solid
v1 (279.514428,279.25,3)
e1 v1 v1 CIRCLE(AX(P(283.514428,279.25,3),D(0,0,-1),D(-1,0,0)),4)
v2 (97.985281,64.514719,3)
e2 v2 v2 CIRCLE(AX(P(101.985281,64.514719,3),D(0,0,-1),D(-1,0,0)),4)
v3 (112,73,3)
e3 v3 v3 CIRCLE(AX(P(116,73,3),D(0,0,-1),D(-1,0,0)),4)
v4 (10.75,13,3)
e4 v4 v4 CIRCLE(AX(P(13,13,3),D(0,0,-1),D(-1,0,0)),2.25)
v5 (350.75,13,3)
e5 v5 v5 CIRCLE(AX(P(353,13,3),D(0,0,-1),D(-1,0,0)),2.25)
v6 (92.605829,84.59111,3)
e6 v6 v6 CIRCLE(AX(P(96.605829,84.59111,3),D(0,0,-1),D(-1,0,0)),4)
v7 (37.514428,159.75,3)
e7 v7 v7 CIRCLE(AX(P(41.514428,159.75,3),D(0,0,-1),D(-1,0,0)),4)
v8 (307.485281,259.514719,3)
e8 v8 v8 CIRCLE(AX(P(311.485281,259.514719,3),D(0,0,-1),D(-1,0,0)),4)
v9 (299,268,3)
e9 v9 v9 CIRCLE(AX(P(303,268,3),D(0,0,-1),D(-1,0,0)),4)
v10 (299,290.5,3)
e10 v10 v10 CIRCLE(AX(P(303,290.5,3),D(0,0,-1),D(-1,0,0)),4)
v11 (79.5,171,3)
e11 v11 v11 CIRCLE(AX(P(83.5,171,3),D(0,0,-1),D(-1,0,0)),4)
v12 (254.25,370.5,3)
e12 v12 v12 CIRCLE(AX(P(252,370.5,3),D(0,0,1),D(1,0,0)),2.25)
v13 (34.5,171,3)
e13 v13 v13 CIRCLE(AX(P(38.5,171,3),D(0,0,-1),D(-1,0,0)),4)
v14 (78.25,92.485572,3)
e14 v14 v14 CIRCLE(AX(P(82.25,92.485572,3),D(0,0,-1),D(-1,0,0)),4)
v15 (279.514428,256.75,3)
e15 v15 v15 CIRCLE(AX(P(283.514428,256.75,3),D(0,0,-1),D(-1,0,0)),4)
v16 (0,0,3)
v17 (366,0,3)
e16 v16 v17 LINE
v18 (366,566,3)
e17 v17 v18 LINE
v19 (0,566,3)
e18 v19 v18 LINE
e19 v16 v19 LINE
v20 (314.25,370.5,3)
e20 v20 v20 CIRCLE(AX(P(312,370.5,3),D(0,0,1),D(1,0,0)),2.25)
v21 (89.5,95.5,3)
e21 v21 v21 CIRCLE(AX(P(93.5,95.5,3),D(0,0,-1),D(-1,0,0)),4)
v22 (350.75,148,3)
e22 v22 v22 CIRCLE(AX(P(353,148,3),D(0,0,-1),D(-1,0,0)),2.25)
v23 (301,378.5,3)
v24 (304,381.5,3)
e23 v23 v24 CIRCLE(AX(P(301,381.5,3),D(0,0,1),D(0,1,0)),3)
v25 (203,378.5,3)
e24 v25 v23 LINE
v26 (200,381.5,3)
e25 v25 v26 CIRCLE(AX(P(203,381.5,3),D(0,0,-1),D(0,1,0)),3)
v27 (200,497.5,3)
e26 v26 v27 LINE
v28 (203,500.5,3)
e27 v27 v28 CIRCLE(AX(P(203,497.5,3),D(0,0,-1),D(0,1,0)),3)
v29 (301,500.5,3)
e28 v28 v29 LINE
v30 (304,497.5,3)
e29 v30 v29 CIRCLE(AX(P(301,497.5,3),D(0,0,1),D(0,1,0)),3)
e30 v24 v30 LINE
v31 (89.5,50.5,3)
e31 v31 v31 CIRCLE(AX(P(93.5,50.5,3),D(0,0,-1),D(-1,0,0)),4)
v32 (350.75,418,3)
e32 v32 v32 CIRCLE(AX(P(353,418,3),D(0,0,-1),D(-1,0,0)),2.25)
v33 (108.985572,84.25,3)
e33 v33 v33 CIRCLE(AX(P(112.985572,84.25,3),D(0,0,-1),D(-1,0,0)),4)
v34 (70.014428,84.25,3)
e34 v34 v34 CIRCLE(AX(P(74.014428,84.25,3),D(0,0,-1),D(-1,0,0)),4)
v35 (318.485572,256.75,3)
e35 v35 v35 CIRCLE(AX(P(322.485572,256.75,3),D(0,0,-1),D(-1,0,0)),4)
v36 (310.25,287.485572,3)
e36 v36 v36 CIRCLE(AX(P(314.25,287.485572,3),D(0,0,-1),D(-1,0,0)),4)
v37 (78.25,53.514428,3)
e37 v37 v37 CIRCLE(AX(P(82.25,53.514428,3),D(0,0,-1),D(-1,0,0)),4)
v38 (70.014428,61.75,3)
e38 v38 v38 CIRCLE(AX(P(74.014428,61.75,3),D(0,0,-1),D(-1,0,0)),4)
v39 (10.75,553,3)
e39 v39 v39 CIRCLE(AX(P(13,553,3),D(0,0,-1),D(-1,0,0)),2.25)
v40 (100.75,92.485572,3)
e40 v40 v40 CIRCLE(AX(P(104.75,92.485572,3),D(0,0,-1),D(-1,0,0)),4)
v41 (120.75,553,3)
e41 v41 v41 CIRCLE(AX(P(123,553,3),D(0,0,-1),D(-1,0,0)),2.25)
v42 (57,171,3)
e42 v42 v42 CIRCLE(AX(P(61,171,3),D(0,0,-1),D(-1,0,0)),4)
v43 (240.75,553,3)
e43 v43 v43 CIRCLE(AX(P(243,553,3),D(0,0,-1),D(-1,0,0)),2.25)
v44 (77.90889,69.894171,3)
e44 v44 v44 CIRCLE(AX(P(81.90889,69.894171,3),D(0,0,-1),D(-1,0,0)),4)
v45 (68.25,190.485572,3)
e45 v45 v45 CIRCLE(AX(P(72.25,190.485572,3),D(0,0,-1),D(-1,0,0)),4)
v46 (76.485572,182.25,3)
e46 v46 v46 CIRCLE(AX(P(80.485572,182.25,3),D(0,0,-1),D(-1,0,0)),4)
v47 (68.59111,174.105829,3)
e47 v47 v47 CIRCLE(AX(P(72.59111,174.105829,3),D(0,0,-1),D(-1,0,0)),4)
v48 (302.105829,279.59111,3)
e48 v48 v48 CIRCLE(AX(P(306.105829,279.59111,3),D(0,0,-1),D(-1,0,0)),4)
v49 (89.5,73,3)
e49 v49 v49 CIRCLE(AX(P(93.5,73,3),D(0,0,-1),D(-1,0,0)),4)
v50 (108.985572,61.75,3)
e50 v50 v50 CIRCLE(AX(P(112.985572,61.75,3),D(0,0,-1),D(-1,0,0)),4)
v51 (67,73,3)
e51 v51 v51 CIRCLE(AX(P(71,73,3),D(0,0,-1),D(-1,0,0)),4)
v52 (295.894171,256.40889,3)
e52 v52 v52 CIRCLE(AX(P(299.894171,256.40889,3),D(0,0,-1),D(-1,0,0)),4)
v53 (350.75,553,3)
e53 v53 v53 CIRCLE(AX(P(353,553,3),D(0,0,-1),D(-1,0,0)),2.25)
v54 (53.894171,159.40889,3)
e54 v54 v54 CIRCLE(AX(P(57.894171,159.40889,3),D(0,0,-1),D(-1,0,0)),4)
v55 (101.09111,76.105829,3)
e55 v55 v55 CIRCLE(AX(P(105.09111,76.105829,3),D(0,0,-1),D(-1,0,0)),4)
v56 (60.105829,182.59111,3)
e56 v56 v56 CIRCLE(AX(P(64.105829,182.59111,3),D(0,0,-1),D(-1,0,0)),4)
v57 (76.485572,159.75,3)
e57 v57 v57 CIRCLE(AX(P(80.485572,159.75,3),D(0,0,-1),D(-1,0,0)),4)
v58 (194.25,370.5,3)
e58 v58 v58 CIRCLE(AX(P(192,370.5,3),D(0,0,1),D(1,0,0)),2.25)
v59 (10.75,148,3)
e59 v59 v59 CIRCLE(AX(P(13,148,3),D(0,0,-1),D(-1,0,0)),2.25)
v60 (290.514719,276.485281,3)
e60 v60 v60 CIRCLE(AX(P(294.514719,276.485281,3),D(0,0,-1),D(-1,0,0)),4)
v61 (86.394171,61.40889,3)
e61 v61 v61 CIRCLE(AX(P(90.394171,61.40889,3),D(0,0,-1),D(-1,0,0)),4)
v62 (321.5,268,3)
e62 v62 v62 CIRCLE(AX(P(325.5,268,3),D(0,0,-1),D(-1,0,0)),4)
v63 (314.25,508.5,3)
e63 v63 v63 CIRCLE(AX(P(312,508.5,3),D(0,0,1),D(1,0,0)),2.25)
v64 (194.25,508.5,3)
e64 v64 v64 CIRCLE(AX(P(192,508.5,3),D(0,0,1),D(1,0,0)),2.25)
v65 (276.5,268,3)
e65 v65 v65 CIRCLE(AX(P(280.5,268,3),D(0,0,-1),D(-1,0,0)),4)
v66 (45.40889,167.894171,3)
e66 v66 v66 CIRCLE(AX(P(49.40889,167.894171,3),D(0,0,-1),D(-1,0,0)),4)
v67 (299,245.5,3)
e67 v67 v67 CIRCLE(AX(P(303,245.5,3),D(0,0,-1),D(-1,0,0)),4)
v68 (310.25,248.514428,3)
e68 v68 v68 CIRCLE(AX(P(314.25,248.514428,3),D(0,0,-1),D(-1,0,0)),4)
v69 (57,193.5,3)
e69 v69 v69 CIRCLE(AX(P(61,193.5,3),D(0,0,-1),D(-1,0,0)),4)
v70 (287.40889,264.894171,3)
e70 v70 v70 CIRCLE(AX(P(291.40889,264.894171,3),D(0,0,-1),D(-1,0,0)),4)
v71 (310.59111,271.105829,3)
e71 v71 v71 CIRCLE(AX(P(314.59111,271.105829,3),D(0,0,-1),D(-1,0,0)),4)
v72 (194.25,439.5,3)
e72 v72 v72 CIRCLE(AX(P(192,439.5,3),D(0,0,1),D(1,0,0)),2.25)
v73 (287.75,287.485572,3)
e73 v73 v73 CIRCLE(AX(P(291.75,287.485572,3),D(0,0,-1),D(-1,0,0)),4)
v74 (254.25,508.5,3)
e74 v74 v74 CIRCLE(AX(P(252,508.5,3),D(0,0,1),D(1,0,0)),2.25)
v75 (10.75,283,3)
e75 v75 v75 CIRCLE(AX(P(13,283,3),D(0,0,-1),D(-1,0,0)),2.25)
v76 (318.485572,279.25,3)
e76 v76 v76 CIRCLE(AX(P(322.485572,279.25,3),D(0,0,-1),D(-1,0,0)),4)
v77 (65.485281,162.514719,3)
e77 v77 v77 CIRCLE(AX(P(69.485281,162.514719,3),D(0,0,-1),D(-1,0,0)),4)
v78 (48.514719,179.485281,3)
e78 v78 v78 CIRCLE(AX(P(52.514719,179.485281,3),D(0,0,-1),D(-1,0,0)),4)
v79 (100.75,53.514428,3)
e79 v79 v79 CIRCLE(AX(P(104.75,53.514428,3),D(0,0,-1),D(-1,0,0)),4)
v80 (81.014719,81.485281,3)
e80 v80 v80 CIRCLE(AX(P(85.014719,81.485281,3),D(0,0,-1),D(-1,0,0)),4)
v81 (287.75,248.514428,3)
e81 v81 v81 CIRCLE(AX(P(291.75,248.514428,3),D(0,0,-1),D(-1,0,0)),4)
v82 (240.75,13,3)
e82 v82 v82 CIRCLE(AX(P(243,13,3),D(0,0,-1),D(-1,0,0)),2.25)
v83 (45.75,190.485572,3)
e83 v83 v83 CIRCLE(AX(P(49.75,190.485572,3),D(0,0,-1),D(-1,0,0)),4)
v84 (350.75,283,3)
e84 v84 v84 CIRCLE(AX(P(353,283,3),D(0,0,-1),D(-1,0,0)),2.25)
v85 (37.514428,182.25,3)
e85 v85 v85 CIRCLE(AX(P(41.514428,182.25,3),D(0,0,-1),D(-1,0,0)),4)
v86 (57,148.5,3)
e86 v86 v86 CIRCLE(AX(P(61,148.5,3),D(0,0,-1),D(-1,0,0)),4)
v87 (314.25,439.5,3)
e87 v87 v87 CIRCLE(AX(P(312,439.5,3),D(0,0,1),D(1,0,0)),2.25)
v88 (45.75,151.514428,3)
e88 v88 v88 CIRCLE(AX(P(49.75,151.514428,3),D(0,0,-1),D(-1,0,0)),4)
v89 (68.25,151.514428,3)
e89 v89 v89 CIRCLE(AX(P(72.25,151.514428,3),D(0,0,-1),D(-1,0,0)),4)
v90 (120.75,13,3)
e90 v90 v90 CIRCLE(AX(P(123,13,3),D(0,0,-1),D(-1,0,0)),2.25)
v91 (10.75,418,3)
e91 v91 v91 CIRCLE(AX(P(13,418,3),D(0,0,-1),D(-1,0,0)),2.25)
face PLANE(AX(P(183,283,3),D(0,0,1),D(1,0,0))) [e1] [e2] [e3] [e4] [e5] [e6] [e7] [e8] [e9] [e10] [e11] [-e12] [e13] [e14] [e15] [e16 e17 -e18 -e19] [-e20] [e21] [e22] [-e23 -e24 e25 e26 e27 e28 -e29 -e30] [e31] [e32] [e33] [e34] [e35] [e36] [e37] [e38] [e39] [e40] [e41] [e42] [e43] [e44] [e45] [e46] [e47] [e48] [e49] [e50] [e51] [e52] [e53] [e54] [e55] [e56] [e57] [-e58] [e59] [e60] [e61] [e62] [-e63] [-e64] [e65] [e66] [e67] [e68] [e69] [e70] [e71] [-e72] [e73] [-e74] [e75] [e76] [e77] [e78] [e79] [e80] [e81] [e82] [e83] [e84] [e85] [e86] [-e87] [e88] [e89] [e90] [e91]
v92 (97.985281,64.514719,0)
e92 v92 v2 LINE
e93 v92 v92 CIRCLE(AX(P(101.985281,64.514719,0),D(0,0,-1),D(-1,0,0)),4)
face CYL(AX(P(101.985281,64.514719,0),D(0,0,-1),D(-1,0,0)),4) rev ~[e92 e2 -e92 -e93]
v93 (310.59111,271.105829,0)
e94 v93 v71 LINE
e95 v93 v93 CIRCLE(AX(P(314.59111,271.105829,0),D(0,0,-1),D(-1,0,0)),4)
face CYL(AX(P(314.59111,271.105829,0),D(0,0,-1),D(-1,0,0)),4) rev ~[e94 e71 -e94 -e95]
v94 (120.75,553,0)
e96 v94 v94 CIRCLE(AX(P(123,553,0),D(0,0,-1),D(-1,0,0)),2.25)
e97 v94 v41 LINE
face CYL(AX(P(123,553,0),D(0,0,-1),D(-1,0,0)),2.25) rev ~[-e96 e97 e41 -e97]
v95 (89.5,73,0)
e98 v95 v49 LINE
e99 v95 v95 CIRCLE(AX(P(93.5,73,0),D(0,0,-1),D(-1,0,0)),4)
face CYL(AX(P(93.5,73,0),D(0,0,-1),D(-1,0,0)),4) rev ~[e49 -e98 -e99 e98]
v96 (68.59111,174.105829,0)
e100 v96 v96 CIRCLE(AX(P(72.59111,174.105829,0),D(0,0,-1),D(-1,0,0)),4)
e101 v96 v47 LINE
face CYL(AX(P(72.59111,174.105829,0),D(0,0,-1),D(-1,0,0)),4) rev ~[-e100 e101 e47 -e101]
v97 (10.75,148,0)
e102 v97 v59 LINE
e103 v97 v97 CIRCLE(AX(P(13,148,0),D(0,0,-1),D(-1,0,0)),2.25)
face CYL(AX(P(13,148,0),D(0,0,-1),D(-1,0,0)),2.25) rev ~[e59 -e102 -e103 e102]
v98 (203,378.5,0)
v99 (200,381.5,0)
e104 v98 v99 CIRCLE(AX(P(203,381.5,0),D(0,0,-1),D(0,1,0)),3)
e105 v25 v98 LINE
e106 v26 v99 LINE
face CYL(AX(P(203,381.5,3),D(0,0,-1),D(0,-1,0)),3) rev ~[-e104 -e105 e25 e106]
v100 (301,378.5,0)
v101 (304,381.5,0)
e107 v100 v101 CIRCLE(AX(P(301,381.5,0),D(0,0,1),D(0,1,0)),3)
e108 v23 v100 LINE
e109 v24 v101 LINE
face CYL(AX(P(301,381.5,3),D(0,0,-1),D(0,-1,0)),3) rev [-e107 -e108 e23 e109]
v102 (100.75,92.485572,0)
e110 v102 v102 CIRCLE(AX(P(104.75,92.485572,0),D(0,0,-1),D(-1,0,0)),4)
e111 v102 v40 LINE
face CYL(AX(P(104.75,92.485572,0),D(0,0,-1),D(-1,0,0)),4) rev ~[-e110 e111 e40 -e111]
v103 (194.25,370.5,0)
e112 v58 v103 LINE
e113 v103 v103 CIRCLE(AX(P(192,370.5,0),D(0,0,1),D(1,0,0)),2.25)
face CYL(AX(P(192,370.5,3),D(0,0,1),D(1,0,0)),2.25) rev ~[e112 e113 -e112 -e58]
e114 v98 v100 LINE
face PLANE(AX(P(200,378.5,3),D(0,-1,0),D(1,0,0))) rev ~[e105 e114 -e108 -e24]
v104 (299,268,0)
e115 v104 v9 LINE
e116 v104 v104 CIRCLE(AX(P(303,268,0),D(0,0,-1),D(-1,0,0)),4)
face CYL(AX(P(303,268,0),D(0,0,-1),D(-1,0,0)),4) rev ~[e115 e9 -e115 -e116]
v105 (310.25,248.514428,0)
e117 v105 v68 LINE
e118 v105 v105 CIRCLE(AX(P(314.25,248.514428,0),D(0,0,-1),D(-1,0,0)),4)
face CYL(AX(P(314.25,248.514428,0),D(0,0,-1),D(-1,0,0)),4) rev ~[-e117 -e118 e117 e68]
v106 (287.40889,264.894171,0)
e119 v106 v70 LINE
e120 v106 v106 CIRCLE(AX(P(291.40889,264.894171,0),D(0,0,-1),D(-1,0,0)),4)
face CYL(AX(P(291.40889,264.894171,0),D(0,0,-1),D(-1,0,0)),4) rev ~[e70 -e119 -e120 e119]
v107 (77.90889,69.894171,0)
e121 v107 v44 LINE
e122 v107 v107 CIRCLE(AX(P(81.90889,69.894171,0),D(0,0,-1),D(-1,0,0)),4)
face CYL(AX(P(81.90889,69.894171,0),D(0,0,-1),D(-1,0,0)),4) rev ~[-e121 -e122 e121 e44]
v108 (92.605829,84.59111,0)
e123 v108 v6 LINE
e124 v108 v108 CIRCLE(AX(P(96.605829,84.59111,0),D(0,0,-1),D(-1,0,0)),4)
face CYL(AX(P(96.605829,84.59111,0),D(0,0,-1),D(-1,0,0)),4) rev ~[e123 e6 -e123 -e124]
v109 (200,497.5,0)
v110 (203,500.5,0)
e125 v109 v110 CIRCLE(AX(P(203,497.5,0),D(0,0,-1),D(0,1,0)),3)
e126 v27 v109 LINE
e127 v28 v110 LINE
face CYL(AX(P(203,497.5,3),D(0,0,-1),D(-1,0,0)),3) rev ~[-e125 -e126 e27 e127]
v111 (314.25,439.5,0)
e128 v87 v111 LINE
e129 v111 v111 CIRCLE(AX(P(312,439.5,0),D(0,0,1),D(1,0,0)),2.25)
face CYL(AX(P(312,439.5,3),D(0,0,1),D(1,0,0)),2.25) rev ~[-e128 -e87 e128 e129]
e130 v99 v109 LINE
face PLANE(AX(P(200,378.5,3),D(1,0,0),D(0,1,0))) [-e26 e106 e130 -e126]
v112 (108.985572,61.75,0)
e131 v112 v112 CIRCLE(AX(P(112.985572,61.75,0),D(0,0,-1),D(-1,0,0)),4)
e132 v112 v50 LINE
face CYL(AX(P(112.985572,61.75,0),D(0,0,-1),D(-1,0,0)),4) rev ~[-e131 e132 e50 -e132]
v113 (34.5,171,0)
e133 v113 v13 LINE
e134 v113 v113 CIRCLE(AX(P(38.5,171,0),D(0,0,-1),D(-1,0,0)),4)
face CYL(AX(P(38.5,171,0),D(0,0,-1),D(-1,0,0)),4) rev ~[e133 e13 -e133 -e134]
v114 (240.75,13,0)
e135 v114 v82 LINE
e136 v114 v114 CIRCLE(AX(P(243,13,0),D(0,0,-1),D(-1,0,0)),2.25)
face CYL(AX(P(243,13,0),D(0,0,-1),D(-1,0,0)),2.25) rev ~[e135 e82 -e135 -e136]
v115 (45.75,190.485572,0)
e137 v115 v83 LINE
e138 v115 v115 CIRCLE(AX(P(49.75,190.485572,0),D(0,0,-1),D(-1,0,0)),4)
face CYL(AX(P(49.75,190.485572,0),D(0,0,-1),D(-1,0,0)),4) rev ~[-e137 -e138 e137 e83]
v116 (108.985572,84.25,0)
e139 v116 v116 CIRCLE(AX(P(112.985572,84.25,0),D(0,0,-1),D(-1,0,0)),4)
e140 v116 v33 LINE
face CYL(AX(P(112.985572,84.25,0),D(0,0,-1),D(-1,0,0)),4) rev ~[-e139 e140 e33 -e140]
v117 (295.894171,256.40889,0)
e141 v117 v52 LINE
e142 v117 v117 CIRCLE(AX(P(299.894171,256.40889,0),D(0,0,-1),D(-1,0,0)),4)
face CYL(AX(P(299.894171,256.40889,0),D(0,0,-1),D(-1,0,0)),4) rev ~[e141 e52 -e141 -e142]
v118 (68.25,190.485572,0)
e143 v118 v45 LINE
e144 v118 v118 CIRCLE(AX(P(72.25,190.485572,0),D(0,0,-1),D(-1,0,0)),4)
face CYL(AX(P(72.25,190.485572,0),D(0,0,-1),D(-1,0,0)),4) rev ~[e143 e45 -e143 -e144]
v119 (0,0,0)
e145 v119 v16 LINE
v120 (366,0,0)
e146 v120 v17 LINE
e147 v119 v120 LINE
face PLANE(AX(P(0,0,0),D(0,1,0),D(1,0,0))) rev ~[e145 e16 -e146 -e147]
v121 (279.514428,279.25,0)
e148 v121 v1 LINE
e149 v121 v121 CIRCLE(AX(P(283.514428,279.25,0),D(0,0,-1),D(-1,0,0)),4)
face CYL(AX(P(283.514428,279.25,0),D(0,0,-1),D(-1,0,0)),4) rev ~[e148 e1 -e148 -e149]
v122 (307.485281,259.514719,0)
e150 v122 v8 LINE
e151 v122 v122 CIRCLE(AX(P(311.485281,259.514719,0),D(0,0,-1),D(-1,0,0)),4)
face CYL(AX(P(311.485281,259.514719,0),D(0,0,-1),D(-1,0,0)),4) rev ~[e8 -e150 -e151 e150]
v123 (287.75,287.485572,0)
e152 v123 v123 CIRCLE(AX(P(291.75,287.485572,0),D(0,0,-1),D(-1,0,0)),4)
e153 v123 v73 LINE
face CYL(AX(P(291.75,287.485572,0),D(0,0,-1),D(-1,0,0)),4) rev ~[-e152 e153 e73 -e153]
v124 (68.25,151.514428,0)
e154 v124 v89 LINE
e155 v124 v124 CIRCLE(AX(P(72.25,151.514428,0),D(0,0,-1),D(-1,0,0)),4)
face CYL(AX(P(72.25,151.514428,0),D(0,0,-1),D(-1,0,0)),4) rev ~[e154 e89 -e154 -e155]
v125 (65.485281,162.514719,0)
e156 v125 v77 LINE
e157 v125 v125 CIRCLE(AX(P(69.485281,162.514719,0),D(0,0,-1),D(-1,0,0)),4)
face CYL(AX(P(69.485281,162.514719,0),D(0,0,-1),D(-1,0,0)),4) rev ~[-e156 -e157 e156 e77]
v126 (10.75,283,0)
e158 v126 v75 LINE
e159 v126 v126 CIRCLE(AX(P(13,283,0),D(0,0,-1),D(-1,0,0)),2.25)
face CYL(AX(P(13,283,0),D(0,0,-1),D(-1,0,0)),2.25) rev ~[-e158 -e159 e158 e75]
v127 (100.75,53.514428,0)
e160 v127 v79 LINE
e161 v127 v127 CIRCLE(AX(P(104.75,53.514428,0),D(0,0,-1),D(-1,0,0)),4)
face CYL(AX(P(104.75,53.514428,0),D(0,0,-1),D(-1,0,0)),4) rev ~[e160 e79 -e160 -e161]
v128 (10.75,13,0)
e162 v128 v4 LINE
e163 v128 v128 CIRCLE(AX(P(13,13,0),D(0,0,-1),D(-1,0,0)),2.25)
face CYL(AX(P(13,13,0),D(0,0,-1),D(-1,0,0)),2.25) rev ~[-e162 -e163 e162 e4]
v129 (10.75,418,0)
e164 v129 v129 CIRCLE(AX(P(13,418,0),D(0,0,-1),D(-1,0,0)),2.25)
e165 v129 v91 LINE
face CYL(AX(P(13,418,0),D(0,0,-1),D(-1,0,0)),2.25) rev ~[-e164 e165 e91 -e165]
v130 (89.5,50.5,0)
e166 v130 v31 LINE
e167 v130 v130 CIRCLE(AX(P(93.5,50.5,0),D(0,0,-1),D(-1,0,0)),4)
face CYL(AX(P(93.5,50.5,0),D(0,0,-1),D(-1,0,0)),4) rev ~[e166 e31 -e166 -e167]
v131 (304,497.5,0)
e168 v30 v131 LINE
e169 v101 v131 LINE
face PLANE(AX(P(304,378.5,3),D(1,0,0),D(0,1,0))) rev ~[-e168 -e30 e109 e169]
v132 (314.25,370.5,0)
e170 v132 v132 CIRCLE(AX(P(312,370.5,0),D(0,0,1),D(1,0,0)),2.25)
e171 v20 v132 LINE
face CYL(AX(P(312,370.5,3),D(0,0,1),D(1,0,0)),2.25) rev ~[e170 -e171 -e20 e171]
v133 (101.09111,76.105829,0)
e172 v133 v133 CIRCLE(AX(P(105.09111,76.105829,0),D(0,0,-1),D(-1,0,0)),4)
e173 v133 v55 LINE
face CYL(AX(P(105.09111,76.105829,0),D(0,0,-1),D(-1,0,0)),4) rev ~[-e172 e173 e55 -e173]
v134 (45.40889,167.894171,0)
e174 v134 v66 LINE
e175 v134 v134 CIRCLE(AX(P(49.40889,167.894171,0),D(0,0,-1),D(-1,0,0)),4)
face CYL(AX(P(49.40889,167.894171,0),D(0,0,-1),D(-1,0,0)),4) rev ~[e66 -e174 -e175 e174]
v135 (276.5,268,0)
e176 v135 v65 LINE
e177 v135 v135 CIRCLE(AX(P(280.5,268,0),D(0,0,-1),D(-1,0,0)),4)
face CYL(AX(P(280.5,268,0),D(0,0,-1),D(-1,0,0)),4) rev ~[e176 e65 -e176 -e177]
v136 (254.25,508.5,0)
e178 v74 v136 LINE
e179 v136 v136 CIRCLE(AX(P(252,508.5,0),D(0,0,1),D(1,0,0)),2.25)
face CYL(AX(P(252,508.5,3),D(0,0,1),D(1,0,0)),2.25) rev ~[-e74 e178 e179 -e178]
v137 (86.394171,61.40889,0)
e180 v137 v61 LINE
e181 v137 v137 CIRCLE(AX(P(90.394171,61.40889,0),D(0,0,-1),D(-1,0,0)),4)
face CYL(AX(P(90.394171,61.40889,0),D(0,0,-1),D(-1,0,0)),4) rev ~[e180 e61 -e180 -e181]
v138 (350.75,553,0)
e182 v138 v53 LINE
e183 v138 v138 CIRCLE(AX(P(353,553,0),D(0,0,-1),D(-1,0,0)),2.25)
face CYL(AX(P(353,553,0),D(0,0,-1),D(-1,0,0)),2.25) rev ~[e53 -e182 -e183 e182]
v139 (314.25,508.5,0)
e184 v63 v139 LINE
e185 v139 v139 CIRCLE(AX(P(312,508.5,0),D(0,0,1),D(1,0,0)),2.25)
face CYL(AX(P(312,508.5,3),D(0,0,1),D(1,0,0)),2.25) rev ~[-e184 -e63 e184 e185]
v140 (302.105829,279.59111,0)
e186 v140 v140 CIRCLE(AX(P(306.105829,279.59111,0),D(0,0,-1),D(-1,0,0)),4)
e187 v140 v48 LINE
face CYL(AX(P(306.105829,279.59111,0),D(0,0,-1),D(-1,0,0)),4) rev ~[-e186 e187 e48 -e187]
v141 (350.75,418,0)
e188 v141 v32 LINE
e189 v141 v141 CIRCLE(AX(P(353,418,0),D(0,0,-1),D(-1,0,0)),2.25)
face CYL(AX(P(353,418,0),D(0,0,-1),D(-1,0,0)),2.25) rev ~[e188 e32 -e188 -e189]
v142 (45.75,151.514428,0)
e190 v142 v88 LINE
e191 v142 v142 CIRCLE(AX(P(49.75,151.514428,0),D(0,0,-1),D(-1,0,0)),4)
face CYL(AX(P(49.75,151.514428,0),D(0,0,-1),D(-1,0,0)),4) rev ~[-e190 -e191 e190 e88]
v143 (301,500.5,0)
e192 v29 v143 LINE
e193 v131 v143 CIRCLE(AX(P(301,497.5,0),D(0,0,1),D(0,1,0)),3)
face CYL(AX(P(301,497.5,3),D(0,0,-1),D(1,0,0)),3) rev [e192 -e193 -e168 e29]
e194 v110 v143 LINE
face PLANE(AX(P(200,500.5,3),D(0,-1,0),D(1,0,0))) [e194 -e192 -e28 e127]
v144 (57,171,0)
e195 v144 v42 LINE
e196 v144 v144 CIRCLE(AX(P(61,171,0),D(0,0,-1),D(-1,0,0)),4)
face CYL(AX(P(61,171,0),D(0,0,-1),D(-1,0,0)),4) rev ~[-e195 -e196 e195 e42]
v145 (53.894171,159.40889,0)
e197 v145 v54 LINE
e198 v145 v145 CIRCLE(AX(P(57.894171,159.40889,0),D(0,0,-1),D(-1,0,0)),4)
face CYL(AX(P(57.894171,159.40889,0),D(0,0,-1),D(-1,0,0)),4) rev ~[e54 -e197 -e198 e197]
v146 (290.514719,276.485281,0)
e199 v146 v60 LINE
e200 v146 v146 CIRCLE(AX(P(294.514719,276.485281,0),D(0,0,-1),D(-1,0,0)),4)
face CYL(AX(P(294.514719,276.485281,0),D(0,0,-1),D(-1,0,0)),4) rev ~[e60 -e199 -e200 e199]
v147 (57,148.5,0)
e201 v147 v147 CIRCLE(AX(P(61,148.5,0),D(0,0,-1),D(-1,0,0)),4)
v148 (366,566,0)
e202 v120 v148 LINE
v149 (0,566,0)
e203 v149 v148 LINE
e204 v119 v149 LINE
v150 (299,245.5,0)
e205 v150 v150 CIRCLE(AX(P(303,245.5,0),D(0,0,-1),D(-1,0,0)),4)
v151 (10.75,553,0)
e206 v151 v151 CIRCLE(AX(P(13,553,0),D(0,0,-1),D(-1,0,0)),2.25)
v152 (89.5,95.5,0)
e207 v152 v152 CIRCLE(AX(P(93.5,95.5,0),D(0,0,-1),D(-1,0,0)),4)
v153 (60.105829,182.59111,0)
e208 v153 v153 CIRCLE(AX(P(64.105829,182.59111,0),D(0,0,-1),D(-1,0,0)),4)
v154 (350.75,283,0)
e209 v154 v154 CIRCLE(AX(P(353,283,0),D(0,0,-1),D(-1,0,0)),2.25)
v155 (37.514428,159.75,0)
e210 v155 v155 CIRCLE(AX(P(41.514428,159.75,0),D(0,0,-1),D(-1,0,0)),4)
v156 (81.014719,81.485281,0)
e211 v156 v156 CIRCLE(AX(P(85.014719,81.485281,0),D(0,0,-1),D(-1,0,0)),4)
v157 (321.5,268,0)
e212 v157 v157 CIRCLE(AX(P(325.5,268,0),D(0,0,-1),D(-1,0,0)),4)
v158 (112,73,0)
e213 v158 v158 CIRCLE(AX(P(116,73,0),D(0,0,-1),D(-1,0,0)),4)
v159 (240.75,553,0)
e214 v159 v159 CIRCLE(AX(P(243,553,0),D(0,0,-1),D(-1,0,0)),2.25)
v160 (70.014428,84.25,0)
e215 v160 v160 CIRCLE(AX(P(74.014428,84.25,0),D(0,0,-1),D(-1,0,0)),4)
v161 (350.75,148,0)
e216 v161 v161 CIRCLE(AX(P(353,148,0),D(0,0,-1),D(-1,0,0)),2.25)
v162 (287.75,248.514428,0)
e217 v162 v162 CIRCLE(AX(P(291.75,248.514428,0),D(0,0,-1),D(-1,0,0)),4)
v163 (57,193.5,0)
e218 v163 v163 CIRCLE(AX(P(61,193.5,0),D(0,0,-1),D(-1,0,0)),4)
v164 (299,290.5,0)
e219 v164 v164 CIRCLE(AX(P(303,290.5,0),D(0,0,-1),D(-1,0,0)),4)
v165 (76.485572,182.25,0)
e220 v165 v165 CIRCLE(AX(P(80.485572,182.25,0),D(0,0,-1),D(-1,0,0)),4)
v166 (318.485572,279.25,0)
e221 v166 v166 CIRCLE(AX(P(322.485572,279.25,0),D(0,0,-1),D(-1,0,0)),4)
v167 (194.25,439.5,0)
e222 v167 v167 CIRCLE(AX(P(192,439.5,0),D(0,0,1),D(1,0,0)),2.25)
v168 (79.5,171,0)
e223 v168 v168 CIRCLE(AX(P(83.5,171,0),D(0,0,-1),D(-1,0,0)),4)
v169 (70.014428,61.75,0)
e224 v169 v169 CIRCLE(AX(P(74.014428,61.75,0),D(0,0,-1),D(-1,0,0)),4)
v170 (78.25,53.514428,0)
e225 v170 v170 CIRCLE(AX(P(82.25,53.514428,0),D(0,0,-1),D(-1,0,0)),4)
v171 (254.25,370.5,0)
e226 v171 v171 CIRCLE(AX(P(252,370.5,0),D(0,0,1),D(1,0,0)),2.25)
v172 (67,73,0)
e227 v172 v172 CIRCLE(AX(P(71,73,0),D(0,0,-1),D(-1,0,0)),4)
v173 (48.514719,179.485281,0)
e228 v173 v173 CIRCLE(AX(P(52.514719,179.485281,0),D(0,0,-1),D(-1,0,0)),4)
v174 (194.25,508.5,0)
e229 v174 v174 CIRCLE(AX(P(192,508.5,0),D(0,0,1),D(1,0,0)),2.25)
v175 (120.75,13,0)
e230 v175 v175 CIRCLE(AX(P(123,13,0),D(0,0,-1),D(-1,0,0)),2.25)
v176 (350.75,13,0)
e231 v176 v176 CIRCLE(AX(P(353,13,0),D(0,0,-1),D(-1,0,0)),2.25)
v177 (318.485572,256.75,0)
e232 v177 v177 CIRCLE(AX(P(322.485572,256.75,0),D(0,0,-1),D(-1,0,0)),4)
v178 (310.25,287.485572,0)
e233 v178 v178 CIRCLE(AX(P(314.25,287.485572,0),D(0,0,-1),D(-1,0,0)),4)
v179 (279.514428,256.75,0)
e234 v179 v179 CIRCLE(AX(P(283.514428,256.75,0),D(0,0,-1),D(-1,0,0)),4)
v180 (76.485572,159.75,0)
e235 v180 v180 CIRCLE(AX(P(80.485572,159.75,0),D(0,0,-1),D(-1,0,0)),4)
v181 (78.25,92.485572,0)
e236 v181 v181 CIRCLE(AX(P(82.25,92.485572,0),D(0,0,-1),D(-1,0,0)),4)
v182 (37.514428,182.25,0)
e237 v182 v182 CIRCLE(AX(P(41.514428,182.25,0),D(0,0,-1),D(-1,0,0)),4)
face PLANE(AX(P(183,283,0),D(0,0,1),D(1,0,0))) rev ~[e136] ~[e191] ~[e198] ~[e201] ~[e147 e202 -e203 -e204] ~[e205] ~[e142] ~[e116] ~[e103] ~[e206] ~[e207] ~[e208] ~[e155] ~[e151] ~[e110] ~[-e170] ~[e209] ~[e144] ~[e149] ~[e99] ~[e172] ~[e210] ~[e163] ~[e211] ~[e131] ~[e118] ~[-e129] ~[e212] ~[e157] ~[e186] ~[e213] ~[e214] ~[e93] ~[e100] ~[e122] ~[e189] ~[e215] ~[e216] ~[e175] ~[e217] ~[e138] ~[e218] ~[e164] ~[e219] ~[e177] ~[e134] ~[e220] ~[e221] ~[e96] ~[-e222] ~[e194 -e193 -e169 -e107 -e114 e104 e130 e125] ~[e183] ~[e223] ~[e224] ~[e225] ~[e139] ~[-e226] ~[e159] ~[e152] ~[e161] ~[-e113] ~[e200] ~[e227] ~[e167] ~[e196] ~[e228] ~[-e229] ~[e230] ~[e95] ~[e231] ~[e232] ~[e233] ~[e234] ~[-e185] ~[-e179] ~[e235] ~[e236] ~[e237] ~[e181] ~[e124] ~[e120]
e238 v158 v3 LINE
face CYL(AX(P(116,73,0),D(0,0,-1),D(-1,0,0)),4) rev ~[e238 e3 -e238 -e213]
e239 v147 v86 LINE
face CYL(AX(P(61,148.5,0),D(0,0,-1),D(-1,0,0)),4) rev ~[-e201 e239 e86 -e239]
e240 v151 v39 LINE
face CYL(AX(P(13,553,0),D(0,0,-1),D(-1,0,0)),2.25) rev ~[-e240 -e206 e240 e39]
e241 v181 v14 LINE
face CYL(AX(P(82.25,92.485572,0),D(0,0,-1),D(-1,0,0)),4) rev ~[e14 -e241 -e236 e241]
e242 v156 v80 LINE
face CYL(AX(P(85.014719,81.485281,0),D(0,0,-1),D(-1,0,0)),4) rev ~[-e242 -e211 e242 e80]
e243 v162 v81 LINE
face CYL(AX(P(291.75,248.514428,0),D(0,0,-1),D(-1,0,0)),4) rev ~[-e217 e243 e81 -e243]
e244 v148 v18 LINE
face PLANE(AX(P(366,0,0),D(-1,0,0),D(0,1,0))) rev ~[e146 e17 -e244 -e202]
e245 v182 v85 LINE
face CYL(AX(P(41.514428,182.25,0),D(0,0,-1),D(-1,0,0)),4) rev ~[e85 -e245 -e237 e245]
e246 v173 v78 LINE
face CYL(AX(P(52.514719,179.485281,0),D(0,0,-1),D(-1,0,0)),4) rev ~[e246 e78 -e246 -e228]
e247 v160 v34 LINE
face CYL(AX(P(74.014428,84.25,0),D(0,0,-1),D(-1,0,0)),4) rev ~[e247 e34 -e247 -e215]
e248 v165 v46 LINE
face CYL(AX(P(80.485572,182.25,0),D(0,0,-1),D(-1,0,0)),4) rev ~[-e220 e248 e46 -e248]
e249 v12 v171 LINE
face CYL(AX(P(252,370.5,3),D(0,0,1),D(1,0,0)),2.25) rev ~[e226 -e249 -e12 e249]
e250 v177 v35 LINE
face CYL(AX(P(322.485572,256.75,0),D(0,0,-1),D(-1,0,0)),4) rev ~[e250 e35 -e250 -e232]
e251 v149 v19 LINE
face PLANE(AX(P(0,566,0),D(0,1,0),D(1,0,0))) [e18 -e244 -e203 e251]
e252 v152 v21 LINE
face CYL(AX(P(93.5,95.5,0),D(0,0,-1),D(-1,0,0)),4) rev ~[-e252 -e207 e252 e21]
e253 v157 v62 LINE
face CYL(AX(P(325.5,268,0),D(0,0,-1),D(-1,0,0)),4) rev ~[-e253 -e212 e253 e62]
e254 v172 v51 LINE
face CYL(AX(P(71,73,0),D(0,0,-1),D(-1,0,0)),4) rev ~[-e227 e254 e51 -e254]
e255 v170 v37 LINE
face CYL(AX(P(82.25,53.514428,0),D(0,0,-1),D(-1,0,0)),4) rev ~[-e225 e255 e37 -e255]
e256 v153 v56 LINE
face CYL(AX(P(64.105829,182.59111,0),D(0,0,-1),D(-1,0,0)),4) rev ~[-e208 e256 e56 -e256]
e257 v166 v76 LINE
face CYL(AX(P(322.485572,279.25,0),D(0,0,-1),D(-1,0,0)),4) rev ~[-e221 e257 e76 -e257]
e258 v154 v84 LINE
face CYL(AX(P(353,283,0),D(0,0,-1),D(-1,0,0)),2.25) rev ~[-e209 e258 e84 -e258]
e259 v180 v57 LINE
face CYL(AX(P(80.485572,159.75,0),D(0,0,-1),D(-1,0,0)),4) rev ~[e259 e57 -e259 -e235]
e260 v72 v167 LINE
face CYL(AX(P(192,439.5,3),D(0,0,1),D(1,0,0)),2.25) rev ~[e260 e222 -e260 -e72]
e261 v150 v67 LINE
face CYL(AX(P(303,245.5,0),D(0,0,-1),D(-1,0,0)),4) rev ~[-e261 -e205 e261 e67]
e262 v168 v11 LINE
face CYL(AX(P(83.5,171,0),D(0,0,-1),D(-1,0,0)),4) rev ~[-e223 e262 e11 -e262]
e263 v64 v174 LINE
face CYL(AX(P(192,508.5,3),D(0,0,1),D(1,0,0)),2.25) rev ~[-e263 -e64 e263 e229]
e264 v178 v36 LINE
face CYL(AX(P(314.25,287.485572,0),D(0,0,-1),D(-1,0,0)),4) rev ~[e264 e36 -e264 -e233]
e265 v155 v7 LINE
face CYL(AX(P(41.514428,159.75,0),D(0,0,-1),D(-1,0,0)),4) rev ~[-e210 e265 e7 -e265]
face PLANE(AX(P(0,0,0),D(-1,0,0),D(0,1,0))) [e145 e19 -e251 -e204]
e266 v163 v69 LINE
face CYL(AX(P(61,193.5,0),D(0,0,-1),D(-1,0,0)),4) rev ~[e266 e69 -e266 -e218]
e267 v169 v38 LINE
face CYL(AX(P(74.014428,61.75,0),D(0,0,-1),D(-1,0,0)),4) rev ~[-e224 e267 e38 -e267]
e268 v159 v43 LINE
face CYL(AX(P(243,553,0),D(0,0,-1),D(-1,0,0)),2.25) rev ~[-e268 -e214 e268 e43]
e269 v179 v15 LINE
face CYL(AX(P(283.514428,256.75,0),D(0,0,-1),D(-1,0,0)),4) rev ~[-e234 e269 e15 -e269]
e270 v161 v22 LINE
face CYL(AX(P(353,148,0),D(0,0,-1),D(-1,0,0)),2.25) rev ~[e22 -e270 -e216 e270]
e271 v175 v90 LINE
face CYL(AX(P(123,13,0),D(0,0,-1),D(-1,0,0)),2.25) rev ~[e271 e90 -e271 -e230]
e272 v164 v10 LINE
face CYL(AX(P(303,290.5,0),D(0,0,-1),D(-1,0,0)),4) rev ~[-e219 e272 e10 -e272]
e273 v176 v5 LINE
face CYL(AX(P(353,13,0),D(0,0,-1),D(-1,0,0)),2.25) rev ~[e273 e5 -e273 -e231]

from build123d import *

# Parameters (mm, degrees)
SKETCH_1_W          = 366
SKETCH_1_H          = 566
EXTRUDE_1_DEPTH     = 3
SKETCH_5_R          = 2.25
CUT_EXTRUDE_2_DEPTH = 4
SKETCH_6_W          = 104
SKETCH_6_H          = 122
CUT_EXTRUDE_3_DEPTH = 4
SKETCH_7_R          = 2.25
CUT_EXTRUDE_4_DEPTH = 4
FILLET2_R           = 3
SKETCH_8_R          = 4
CUT_EXTRUDE_5_DEPTH = 4
SKETCH_9_R          = 4
CUT_EXTRUDE_6_DEPTH = 4


with BuildPart() as part:
    # Эскиз1 → Бобышка-Вытянуть1 (new body)
    with BuildSketch(Plane.XY):
        with Locations((183, 283)):
            Rectangle(SKETCH_1_W, SKETCH_1_H)
    extrude(amount=EXTRUDE_1_DEPTH)

    # Эскиз5 → Вырез-Вытянуть2 (cut, through all)
    with BuildSketch(Plane(origin=(0, 0, 0), x_dir=(-1, 0, 0), z_dir=(0, 0, -1))):
        with Locations((-353, 553)):
            Circle(SKETCH_5_R)
        with Locations((-13, 553)):
            Circle(SKETCH_5_R)
        with Locations((-243, 553)):
            Circle(SKETCH_5_R)
        with Locations((-123, 553)):
            Circle(SKETCH_5_R)
        with Locations((-353, 418)):
            Circle(SKETCH_5_R)
        with Locations((-353, 283)):
            Circle(SKETCH_5_R)
        with Locations((-353, 148)):
            Circle(SKETCH_5_R)
        with Locations((-353, 13)):
            Circle(SKETCH_5_R)
        with Locations((-13, 418)):
            Circle(SKETCH_5_R)
        with Locations((-13, 283)):
            Circle(SKETCH_5_R)
        with Locations((-13, 148)):
            Circle(SKETCH_5_R)
        with Locations((-13, 13)):
            Circle(SKETCH_5_R)
        with Locations((-123, 13)):
            Circle(SKETCH_5_R)
        with Locations((-243, 13)):
            Circle(SKETCH_5_R)
    extrude(amount=-CUT_EXTRUDE_2_DEPTH, mode=Mode.SUBTRACT)

    # Эскиз6 → Вырез-Вытянуть3 (cut, through all)
    with BuildSketch(Plane.XY.offset(3)):
        with Locations((252, 439.5)):
            Rectangle(SKETCH_6_W, SKETCH_6_H)
    extrude(amount=-CUT_EXTRUDE_3_DEPTH, mode=Mode.SUBTRACT)

    # Эскиз7 → Вырез-Вытянуть4 (cut, through all)
    with BuildSketch(Plane.XY.offset(3)):
        with Locations((192, 439.5)):
            Circle(SKETCH_7_R)
        with Locations((252, 508.5)):
            Circle(SKETCH_7_R)
        with Locations((312, 508.5)):
            Circle(SKETCH_7_R)
        with Locations((312, 439.5)):
            Circle(SKETCH_7_R)
        with Locations((312, 370.5)):
            Circle(SKETCH_7_R)
        with Locations((252, 370.5)):
            Circle(SKETCH_7_R)
        with Locations((192, 370.5)):
            Circle(SKETCH_7_R)
        with Locations((192, 508.5)):
            Circle(SKETCH_7_R)
    extrude(amount=-CUT_EXTRUDE_4_DEPTH, mode=Mode.SUBTRACT)

    # Fillet2
    fillet2_edges = [part.edges().sort_by_distance(p)[0] for p in [
        (304, 378.5, 1.5),
        (200, 378.5, 1.5),
        (200, 500.5, 1.5),
        (304, 500.5, 1.5),
    ]]
    fillet(fillet2_edges, radius=FILLET2_R)

    # Эскиз8 → Вырез-Вытянуть5 (cut, through all)
    with BuildSketch(Plane(origin=(0, 0, 0), x_dir=(-1, 0, 0), z_dir=(0, 0, -1))):
        with Locations((-61, 148.5)):
            Circle(SKETCH_8_R)
        with Locations((-69.485281374, 162.514718626)):
            Circle(SKETCH_8_R)
        with Locations((-61, 171)):
            Circle(SKETCH_8_R)
        with Locations((-72.25, 151.514428415)):
            Circle(SKETCH_8_R)
        with Locations((-80.485571585, 159.75)):
            Circle(SKETCH_8_R)
        with Locations((-83.5, 171)):
            Circle(SKETCH_8_R)
        with Locations((-80.485571585, 182.25)):
            Circle(SKETCH_8_R)
        with Locations((-72.25, 190.485571585)):
            Circle(SKETCH_8_R)
        with Locations((-61, 193.5)):
            Circle(SKETCH_8_R)
        with Locations((-49.75, 190.485571585)):
            Circle(SKETCH_8_R)
        with Locations((-41.514428415, 182.25)):
            Circle(SKETCH_8_R)
        with Locations((-38.5, 171)):
            Circle(SKETCH_8_R)
        with Locations((-41.514428415, 159.75)):
            Circle(SKETCH_8_R)
        with Locations((-49.75, 151.514428415)):
            Circle(SKETCH_8_R)
        with Locations((-72.591109915, 174.105828541)):
            Circle(SKETCH_8_R)
        with Locations((-64.105828541, 182.591109915)):
            Circle(SKETCH_8_R)
        with Locations((-52.514718626, 179.485281374)):
            Circle(SKETCH_8_R)
        with Locations((-49.408890085, 167.894171459)):
            Circle(SKETCH_8_R)
        with Locations((-57.894171459, 159.408890085)):
            Circle(SKETCH_8_R)
        with Locations((-93.5, 73)):
            Circle(SKETCH_8_R)
        with Locations((-93.5, 50.5)):
            Circle(SKETCH_8_R)
        with Locations((-101.985281374, 64.514718626)):
            Circle(SKETCH_8_R)
        with Locations((-104.75, 53.514428415)):
            Circle(SKETCH_8_R)
        with Locations((-112.985571585, 61.75)):
            Circle(SKETCH_8_R)
        with Locations((-116, 73)):
            Circle(SKETCH_8_R)
        with Locations((-112.985571585, 84.25)):
            Circle(SKETCH_8_R)
        with Locations((-104.75, 92.485571585)):
            Circle(SKETCH_8_R)
        with Locations((-93.5, 95.5)):
            Circle(SKETCH_8_R)
        with Locations((-82.25, 92.485571585)):
            Circle(SKETCH_8_R)
        with Locations((-74.014428415, 84.25)):
            Circle(SKETCH_8_R)
        with Locations((-71, 73)):
            Circle(SKETCH_8_R)
        with Locations((-74.014428415, 61.75)):
            Circle(SKETCH_8_R)
        with Locations((-82.25, 53.514428415)):
            Circle(SKETCH_8_R)
        with Locations((-105.091109915, 76.105828541)):
            Circle(SKETCH_8_R)
        with Locations((-96.605828541, 84.591109915)):
            Circle(SKETCH_8_R)
        with Locations((-85.014718626, 81.485281374)):
            Circle(SKETCH_8_R)
        with Locations((-81.908890085, 69.894171459)):
            Circle(SKETCH_8_R)
        with Locations((-90.394171459, 61.408890085)):
            Circle(SKETCH_8_R)
    extrude(amount=-CUT_EXTRUDE_5_DEPTH, mode=Mode.SUBTRACT)

    # Эскиз9 → Вырез-Вытянуть6 (cut, through all)
    with BuildSketch(Plane(origin=(0, 0, 0), x_dir=(-1, 0, 0), z_dir=(0, 0, -1))):
        with Locations((-303, 268)):
            Circle(SKETCH_9_R)
        with Locations((-303, 245.5)):
            Circle(SKETCH_9_R)
        with Locations((-311.485281374, 259.514718626)):
            Circle(SKETCH_9_R)
        with Locations((-314.25, 248.514428415)):
            Circle(SKETCH_9_R)
        with Locations((-322.485571585, 256.75)):
            Circle(SKETCH_9_R)
        with Locations((-325.5, 268)):
            Circle(SKETCH_9_R)
        with Locations((-322.485571585, 279.25)):
            Circle(SKETCH_9_R)
        with Locations((-314.25, 287.485571585)):
            Circle(SKETCH_9_R)
        with Locations((-303, 290.5)):
            Circle(SKETCH_9_R)
        with Locations((-291.75, 287.485571585)):
            Circle(SKETCH_9_R)
        with Locations((-283.514428415, 279.25)):
            Circle(SKETCH_9_R)
        with Locations((-280.5, 268)):
            Circle(SKETCH_9_R)
        with Locations((-283.514428415, 256.75)):
            Circle(SKETCH_9_R)
        with Locations((-291.75, 248.514428415)):
            Circle(SKETCH_9_R)
        with Locations((-314.591109915, 271.105828541)):
            Circle(SKETCH_9_R)
        with Locations((-306.105828541, 279.591109915)):
            Circle(SKETCH_9_R)
        with Locations((-294.514718626, 276.485281374)):
            Circle(SKETCH_9_R)
        with Locations((-291.408890085, 264.894171459)):
            Circle(SKETCH_9_R)
        with Locations((-299.894171459, 256.408890085)):
            Circle(SKETCH_9_R)
    extrude(amount=-CUT_EXTRUDE_6_DEPTH, mode=Mode.SUBTRACT)


solid = part.part
